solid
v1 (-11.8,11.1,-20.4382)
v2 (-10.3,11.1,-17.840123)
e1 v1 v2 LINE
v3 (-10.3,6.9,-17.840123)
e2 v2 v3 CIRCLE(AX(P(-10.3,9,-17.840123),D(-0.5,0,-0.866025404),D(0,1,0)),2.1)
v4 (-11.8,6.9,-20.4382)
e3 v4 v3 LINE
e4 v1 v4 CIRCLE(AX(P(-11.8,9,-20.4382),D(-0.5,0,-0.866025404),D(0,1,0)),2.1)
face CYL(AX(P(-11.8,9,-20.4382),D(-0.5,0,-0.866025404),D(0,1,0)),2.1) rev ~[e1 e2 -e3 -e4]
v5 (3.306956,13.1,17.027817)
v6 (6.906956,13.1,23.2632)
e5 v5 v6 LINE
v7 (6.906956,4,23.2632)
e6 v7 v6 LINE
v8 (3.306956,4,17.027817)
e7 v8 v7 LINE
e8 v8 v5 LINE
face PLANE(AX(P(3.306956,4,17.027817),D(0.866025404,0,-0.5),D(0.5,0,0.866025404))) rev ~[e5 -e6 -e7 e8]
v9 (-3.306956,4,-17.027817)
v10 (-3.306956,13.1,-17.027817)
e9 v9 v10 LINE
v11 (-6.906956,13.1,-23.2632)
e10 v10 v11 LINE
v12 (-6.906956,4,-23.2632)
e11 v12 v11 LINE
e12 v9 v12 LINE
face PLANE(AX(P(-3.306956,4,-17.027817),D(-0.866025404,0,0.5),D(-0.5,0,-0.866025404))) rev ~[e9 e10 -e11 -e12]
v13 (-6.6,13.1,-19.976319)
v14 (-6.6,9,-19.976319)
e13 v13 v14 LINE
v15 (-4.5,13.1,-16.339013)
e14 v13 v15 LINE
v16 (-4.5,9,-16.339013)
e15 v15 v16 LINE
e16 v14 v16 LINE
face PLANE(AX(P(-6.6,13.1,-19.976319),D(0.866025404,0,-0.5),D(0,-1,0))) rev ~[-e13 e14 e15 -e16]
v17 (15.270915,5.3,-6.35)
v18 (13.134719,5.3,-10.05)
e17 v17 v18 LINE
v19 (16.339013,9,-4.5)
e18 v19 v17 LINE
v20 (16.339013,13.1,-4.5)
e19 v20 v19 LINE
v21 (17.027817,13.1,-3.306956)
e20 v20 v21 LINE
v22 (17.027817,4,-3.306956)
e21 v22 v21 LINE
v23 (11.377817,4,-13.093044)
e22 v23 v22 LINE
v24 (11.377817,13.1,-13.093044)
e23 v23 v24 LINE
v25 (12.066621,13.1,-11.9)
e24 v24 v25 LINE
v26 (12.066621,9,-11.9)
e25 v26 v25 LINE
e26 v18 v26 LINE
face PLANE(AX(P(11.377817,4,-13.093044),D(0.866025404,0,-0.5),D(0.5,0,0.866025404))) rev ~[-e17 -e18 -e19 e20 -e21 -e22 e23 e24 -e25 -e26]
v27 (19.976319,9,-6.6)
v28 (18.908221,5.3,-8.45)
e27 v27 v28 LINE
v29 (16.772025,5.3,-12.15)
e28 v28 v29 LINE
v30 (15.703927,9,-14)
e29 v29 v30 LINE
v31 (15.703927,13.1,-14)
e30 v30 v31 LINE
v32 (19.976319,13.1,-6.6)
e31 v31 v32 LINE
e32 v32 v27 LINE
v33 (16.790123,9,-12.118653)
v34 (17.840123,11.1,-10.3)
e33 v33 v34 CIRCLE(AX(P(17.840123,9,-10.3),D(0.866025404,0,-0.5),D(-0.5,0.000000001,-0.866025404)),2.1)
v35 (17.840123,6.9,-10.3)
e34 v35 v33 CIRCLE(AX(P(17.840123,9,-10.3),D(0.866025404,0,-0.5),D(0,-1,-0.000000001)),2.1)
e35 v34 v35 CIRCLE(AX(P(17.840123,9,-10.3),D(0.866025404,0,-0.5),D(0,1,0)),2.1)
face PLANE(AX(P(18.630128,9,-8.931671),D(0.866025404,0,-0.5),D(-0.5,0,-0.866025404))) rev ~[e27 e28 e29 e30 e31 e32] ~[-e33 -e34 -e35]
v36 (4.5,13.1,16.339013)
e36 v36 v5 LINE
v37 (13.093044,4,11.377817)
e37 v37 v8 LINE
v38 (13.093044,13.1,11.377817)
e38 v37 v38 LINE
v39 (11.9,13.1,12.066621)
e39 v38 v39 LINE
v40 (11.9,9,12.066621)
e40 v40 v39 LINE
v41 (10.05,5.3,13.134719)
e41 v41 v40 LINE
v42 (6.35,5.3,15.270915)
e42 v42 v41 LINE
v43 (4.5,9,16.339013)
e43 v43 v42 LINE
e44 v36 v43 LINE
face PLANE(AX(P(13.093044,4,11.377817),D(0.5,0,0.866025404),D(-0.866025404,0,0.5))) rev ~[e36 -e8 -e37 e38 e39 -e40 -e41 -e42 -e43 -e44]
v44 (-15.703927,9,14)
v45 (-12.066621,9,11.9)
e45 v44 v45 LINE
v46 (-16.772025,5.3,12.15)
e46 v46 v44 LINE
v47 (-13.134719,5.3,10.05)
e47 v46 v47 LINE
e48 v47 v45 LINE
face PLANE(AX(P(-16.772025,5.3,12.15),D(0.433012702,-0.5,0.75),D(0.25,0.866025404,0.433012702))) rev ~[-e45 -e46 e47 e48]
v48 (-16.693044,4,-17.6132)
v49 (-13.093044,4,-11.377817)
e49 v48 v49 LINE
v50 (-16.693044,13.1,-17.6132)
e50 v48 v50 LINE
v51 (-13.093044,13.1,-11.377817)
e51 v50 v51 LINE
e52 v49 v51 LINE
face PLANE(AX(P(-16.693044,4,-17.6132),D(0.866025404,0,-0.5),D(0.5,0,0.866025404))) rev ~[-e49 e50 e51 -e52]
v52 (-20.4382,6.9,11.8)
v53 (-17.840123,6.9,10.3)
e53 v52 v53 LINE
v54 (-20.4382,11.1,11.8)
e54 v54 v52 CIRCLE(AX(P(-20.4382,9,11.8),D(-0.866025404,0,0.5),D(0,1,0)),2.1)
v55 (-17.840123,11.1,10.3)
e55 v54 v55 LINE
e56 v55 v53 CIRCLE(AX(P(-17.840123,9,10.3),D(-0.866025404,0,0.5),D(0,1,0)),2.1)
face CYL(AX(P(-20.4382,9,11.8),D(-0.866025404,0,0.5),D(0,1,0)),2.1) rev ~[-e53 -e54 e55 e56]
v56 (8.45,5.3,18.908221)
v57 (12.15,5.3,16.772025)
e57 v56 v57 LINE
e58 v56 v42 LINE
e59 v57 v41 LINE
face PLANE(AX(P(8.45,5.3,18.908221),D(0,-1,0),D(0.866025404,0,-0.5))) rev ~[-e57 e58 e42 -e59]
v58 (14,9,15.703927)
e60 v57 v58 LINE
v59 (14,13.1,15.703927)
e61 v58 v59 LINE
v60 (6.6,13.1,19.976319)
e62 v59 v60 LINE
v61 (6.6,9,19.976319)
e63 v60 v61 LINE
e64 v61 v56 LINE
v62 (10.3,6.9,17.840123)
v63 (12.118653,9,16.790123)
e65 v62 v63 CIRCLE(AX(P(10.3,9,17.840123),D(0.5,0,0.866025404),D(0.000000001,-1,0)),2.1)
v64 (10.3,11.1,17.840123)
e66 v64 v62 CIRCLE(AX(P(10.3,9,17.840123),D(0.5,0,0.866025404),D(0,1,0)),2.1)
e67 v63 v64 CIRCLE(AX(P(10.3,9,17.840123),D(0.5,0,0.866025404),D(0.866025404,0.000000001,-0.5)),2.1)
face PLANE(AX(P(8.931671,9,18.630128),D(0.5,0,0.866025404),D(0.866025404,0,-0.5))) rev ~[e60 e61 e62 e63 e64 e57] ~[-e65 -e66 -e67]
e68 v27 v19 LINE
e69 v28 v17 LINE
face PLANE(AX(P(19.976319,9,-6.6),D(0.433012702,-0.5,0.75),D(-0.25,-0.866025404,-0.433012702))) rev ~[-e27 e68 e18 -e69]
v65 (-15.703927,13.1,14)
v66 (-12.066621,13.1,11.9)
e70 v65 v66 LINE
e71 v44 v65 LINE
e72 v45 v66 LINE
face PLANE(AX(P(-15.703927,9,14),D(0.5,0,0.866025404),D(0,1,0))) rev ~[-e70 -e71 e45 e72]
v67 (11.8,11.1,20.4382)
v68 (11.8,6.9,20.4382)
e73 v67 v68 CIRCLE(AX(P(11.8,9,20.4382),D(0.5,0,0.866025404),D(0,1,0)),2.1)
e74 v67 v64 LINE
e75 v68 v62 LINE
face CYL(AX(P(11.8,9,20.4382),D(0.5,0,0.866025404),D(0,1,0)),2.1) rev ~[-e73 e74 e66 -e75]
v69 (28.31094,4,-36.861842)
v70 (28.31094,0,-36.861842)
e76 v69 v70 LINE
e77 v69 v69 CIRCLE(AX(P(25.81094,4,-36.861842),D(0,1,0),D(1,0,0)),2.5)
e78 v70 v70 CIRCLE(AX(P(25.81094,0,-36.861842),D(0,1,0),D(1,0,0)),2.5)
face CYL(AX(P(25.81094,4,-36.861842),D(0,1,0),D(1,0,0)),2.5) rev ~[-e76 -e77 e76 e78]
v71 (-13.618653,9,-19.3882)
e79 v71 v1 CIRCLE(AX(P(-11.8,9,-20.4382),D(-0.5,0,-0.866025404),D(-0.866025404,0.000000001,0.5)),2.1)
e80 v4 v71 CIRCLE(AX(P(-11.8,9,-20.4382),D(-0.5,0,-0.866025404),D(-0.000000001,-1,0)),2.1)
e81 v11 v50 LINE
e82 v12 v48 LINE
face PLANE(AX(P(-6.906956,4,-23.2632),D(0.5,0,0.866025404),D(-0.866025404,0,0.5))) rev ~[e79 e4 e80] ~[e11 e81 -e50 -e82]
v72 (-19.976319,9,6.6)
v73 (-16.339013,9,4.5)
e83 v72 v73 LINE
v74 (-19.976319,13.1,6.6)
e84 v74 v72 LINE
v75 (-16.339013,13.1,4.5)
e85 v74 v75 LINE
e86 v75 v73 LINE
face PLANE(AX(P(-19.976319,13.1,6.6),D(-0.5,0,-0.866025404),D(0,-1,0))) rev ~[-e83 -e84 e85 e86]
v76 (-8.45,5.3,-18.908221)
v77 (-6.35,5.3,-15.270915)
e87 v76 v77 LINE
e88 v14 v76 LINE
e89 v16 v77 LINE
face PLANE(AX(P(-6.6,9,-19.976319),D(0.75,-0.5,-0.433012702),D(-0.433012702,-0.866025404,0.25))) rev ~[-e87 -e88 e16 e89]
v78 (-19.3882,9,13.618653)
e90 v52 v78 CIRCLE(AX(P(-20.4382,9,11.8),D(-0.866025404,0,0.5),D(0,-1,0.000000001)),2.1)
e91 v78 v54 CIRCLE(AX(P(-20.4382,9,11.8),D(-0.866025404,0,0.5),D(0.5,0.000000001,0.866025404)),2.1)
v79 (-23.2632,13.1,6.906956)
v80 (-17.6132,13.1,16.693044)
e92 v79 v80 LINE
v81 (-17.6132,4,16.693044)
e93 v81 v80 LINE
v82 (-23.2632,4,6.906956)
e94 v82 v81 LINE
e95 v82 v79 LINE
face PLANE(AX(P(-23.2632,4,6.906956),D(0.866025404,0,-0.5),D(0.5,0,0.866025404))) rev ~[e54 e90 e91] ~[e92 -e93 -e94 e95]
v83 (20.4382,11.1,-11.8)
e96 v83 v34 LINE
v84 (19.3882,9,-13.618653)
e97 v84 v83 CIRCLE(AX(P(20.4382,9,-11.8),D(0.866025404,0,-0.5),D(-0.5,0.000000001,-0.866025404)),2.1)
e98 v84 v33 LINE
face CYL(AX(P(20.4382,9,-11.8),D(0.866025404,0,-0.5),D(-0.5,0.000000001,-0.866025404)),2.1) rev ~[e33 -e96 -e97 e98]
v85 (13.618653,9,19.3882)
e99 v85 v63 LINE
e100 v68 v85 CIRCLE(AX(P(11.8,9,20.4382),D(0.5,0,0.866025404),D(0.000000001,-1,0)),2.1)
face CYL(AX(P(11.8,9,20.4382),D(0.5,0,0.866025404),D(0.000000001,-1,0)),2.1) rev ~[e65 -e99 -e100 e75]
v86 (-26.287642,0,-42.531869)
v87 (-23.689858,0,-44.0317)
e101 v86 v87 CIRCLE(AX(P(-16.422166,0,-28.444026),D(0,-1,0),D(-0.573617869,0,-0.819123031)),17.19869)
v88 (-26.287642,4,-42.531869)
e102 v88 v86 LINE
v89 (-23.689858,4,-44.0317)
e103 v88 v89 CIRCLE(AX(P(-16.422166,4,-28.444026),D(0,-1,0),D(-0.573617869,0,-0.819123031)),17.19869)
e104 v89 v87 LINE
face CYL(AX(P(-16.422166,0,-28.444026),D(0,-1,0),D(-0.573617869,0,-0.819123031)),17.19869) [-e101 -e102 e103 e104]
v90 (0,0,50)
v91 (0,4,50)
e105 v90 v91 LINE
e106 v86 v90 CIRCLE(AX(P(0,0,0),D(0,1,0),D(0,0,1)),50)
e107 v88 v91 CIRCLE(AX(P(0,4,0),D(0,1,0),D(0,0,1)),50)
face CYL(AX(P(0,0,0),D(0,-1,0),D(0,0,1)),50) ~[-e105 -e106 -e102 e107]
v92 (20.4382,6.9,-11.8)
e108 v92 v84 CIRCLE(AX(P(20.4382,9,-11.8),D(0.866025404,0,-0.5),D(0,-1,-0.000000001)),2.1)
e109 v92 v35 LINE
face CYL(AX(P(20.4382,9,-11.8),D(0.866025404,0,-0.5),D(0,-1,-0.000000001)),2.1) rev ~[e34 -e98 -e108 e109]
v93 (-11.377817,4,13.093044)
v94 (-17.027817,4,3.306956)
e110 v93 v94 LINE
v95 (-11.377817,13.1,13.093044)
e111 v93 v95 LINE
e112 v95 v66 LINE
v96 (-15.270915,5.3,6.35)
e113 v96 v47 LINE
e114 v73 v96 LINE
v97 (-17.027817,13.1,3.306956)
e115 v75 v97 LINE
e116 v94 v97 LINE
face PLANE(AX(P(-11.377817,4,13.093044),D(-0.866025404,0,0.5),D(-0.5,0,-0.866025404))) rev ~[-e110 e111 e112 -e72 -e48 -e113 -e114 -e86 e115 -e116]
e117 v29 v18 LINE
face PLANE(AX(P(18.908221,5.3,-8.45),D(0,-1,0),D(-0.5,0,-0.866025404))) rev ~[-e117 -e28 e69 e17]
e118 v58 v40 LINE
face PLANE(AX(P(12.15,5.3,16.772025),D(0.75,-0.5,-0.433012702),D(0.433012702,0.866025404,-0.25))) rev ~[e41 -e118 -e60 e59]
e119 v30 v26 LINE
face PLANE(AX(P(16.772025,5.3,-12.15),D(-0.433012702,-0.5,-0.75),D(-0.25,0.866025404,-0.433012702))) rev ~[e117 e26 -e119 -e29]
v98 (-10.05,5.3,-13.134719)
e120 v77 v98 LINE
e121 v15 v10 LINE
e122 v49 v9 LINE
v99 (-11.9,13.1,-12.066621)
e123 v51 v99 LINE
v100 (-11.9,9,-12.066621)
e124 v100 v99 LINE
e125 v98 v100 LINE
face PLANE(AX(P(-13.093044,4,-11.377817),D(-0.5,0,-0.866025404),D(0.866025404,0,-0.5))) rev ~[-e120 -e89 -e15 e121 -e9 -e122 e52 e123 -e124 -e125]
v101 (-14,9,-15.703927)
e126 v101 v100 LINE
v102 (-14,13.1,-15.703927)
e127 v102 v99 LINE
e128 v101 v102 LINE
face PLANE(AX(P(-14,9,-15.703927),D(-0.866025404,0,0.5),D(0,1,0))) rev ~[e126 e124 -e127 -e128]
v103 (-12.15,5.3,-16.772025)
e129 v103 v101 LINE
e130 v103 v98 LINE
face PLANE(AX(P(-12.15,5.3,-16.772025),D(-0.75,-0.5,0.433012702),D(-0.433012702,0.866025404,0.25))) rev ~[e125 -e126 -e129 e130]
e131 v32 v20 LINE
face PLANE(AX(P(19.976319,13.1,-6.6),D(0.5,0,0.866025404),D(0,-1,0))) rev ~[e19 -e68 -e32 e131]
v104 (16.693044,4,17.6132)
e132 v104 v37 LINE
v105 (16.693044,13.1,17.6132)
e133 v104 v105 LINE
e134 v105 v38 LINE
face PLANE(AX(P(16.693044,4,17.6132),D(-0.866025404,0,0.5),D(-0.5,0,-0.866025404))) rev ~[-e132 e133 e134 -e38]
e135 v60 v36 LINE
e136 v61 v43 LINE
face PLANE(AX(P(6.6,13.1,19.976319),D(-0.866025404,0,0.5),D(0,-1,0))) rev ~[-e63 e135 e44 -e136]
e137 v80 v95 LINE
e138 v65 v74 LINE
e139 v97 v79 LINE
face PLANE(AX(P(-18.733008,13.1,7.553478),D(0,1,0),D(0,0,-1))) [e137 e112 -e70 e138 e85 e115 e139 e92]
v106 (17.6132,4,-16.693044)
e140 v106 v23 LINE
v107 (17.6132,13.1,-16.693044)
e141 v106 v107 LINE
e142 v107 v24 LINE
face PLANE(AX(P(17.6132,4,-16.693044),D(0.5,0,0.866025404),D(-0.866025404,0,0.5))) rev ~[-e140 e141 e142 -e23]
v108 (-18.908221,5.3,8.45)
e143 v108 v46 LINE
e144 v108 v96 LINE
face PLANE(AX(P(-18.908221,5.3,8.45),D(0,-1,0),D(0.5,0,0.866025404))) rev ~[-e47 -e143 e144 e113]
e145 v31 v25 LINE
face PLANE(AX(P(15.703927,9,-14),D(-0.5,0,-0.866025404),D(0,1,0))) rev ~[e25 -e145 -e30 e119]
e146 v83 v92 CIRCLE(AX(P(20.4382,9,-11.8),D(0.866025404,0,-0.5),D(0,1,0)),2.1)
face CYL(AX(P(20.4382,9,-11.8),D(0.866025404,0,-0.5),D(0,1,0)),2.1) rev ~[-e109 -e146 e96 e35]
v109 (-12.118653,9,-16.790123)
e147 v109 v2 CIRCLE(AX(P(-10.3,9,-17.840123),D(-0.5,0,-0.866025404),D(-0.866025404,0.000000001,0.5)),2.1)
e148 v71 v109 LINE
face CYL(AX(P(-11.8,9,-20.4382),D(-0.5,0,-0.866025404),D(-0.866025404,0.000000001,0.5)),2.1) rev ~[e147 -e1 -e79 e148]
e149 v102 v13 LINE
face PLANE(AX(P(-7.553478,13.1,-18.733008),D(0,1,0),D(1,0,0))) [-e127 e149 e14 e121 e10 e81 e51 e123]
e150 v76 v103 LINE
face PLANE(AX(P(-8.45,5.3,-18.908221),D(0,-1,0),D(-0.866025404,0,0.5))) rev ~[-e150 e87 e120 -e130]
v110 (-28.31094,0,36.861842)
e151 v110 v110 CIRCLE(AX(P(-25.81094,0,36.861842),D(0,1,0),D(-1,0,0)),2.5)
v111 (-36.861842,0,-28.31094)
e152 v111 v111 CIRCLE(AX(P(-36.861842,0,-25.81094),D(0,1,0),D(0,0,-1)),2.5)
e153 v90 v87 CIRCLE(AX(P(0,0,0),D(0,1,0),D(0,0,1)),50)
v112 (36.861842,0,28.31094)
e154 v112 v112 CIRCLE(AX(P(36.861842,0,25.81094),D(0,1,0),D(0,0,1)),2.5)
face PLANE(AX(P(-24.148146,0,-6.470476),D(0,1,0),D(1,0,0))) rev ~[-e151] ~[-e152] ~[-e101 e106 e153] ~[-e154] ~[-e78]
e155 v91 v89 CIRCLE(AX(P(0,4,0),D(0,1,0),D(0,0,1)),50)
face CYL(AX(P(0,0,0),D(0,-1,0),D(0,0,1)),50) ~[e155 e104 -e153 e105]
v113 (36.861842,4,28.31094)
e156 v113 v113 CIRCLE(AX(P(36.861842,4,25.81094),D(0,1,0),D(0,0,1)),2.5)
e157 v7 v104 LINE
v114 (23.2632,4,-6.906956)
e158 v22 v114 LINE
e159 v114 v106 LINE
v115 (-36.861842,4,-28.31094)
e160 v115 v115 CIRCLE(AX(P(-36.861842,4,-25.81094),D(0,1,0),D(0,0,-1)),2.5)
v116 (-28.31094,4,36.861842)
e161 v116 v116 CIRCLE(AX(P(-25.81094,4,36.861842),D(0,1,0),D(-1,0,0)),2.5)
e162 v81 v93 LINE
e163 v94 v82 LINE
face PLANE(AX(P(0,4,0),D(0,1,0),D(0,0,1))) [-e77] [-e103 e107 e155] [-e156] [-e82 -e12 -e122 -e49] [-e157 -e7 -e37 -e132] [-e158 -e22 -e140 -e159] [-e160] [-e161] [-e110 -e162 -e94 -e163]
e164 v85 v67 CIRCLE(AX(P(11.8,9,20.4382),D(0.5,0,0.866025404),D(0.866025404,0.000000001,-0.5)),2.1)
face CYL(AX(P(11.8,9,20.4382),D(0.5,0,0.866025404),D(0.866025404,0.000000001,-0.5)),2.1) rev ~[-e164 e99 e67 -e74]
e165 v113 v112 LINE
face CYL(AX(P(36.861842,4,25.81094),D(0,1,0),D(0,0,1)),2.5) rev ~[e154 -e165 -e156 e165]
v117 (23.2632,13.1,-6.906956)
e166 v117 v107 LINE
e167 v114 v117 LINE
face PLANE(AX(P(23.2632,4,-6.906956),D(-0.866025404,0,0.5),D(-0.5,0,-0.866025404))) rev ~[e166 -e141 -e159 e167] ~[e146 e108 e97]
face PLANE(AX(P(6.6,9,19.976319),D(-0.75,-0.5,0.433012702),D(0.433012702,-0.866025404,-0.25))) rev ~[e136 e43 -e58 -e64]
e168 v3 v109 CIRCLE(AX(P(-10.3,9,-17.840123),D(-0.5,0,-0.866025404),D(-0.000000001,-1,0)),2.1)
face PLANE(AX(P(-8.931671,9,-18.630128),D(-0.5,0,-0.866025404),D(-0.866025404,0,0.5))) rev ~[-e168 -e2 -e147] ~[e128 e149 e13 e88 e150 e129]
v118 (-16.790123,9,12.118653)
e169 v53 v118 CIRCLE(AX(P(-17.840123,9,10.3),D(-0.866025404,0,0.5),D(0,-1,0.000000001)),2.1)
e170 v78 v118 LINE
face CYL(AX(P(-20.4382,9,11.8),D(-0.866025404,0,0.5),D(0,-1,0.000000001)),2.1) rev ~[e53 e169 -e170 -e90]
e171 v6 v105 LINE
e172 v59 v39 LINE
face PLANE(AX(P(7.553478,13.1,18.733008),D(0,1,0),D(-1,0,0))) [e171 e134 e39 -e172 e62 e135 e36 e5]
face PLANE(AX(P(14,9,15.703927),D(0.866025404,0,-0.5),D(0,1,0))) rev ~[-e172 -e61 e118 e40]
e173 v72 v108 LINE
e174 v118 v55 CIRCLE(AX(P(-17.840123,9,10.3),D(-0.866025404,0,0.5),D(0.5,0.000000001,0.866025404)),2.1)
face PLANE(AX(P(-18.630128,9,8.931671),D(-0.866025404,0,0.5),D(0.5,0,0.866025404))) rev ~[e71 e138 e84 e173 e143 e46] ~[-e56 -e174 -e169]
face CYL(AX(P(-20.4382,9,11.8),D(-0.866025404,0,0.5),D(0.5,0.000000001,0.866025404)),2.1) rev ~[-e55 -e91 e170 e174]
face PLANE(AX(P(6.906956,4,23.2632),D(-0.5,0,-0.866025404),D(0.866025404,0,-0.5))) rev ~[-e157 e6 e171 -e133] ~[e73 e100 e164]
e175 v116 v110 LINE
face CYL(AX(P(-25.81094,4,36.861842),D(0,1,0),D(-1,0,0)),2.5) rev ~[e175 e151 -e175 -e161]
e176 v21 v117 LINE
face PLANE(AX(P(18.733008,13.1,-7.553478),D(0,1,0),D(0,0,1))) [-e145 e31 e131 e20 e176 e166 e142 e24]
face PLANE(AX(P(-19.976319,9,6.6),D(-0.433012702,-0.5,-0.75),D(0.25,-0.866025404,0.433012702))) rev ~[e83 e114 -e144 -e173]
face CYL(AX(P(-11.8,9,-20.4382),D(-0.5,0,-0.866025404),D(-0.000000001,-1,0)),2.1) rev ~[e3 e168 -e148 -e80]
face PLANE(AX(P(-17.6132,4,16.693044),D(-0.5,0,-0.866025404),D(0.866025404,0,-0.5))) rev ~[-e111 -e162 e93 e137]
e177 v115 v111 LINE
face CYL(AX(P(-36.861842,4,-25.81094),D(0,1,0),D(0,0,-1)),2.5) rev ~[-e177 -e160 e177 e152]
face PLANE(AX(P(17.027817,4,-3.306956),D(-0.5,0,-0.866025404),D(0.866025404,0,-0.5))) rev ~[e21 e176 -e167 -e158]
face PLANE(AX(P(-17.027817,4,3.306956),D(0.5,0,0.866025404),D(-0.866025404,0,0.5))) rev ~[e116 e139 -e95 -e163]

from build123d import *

# Parameters (mm, degrees)
SKETCH1_R           = 50
SKETCH1_R_2         = 1.475
SKETCH1_R_3         = 2.6
BOSS_EXTRUDE1_DEPTH = 4
SKETCH2_R           = 1.5
CUT_EXTRUDE1_DEPTH  = 10
BOSS_EXTRUDE3_DEPTH = 9.1
CIRPATTERN1_COUNT   = 4
CUT_EXTRUDE2_START  = -3
CUT_EXTRUDE2_DEPTH  = 5
CUT_EXTRUDE3_DEPTH  = 15
CIRPATTERN2_COUNT   = 4
CIRPATTERN3_COUNT   = 4
BOSS_EXTRUDE4_START = -4
SKETCH11_R          = 2.6
SKETCH11_R_2        = 1.475
SKETCH11_R_3        = 2.656466029
BOSS_EXTRUDE4_DEPTH = 4
SKETCH12_R          = 2.5
CUT_EXTRUDE4_DEPTH  = 10
CIRPATTERN4_COUNT   = 4


with BuildPart() as part:
    # Sketch1 → Boss-Extrude1 (new body)
    with BuildSketch(Plane(origin=(0, 0, 0), x_dir=(1, 0, 0), z_dir=(0, 1, 0))):
        with Locations(Location((0, 0, 0), (0, 0, 270))):
            Circle(SKETCH1_R)
        with Locations(Location((0, 13, 0), (0, 0, 270))):
            Circle(SKETCH1_R_2, mode=Mode.SUBTRACT)
        with Locations(Location((11.258330249, 6.5, 0), (0, 0, 270))):
            Circle(SKETCH1_R_2, mode=Mode.SUBTRACT)
        with Locations(Location((11.258330249, -6.5, 0), (0, 0, 270))):
            Circle(SKETCH1_R_2, mode=Mode.SUBTRACT)
        with Locations(Location((0, -13, 0), (0, 0, 270))):
            Circle(SKETCH1_R_2, mode=Mode.SUBTRACT)
        with Locations(Location((-11.258330249, -6.5, 0), (0, 0, 270))):
            Circle(SKETCH1_R_2, mode=Mode.SUBTRACT)
        with Locations(Location((-11.258330249, 6.5, 0), (0, 0, 270))):
            Circle(SKETCH1_R_2, mode=Mode.SUBTRACT)
        with Locations(Location((-24.148145657, 6.470476128, 0), (0, 0, 270))):
            Circle(SKETCH1_R_3, mode=Mode.SUBTRACT)
        with Locations(Location((6.470476128, 24.148145657, 0), (0, 0, 270))):
            Circle(SKETCH1_R_3, mode=Mode.SUBTRACT)
        with Locations(Location((24.148145657, -6.470476128, 0), (0, 0, 270))):
            Circle(SKETCH1_R_3, mode=Mode.SUBTRACT)
        with Locations(Location((-6.470476128, -24.148145657, 0), (0, 0, 270))):
            Circle(SKETCH1_R_3, mode=Mode.SUBTRACT)
    extrude(amount=BOSS_EXTRUDE1_DEPTH)

    # Sketch2 → Cut-Extrude1 (cut)
    with BuildSketch(Plane(origin=(0, 4, 0), x_dir=(1, 0, 0), z_dir=(0, 1, 0))):
        with Locations((-25, 43.301270189)):
            Circle(SKETCH2_R)
    extrude(amount=-CUT_EXTRUDE1_DEPTH, mode=Mode.SUBTRACT)

    # Sketch8 → Boss-Extrude3 (add)
    with BuildSketch(Plane(origin=(0, 4, 0), x_dir=(1, 0, 0), z_dir=(0, 1, 0))):
        Polygon((-6.906956469, 23.263199529), (-11.8, 20.438199529), (-8.2, 14.202816622), (-3.306956469, 17.027816622), align=None)
        Polygon((-8.2, 14.202816622), (-11.8, 20.438199529), (-16.693043531, 17.613199529), (-13.093043531, 11.377816622), align=None)
    boss_extrude3 = extrude(amount=BOSS_EXTRUDE3_DEPTH)

    # CirPattern1: Boss-Extrude3 ×4 about axis
    cirpattern1_axis = Axis((0, 0, 0), (0, 1, 0))
    for i in range(1, CIRPATTERN1_COUNT):
        add(boss_extrude3.rotate(cirpattern1_axis, i * 360 / CIRPATTERN1_COUNT))

    # Sketch9 → Cut-Extrude2 (cut)
    with BuildSketch(Plane(origin=(-11.8, 0, -20.438199529), x_dir=(-0.8660254037844384, 0, 0.5000000000000006), z_dir=(-0.5000000000000006, 0, -0.8660254037844384)).offset(CUT_EXTRUDE2_START)):
        Polygon((0, 5.3), (0, 12.7), (-2.136195996, 12.7), (-4.272391992, 9), (-2.136195996, 5.3), align=None)
        Polygon((2.136195996, 12.7), (0, 12.7), (0, 5.3), (2.136195996, 5.3), (4.272391992, 9), align=None)
        Polygon((0, 12.7), (0, 13.1), (-4.272391992, 13.1), (-4.272391992, 9), (-2.136195996, 12.7), align=None)
        Polygon((4.272391992, 13.1), (0, 13.1), (0, 12.7), (2.136195996, 12.7), (4.272391992, 9), align=None)
    cut_extrude2 = extrude(amount=-CUT_EXTRUDE2_DEPTH, mode=Mode.SUBTRACT)

    # Sketch10 → Cut-Extrude3 (cut)
    with BuildSketch(Plane(origin=(-11.8, 0, -20.438199529), x_dir=(-0.8660254037844384, 0, 0.5000000000000006), z_dir=(-0.5000000000000006, 0, -0.8660254037844384))):
        with BuildLine():
            ThreePointArc((2.1, 9), (1.48492424, 10.48492424), (0, 11.1))
            Line((0, 11.1), (0, 6.9))
            ThreePointArc((0, 6.9), (1.48492424, 7.51507576), (2.1, 9))
        make_face()
        with BuildLine():
            Line((0, 6.9), (0, 11.1))
            ThreePointArc((0, 11.1), (-2.1, 9), (0, 6.9))
        make_face()
    cut_extrude3 = extrude(amount=-CUT_EXTRUDE3_DEPTH, mode=Mode.SUBTRACT)

    # CirPattern2: Cut-Extrude2 ×4 about axis
    cirpattern2_axis = Axis((0, 0, 0), (0, 1, 0))
    for i in range(1, CIRPATTERN2_COUNT):
        add(cut_extrude2.rotate(cirpattern2_axis, i * 360 / CIRPATTERN2_COUNT), mode=Mode.SUBTRACT)

    # CirPattern3: Cut-Extrude3 ×4 about axis
    cirpattern3_axis = Axis((0, 4, 0), (0, 1, 0))
    for i in range(1, CIRPATTERN3_COUNT):
        add(cut_extrude3.rotate(cirpattern3_axis, i * 360 / CIRPATTERN3_COUNT), mode=Mode.SUBTRACT)

    # Sketch11 → Boss-Extrude4 (add)
    with BuildSketch(Plane(origin=(0, 4, 0), x_dir=(1, 0, 0), z_dir=(0, 1, 0)).offset(BOSS_EXTRUDE4_START)):
        with Locations((-24.148145657, 6.470476128)):
            Circle(SKETCH11_R)
        with Locations((-6.470476128, -24.148145657)):
            Circle(SKETCH11_R)
        with Locations((0, -13)):
            Circle(SKETCH11_R_2)
        with Locations((-11.258330249, -6.5)):
            Circle(SKETCH11_R_2)
        with Locations((24.148145657, -6.470476128)):
            Circle(SKETCH11_R_3)
        with Locations((6.470476128, 24.148145657)):
            Circle(SKETCH11_R)
        with Locations((0, 13)):
            Circle(SKETCH11_R_2)
        with Locations((11.258330249, 6.5)):
            Circle(SKETCH11_R_2)
        with Locations((11.258330249, -6.5)):
            Circle(SKETCH11_R_2)
        with Locations((-11.258330249, 6.5)):
            Circle(SKETCH11_R_2)
        with BuildLine():
            ThreePointArc((-26.287641956, 42.531868997), (-25.021511025, 43.338528377), (-23.689858044, 44.031700238))
            ThreePointArc((-23.689858044, 44.031700238), (-24.25, 42.002232084), (-26.287641956, 42.531868997))
        make_face()
    extrude(amount=BOSS_EXTRUDE4_DEPTH)

    # Sketch12 → Cut-Extrude4 (cut)
    with BuildSketch(Plane(origin=(0, 4, 0), x_dir=(1, 0, 0), z_dir=(0, 1, 0))):
        with Locations(Location((36.861841993, -25.810939636, 0), (0, 0, 270))):
            Circle(SKETCH12_R)
    cut_extrude4 = extrude(amount=-CUT_EXTRUDE4_DEPTH, mode=Mode.SUBTRACT)

    # CirPattern4: Cut-Extrude4 ×4 about axis
    cirpattern4_axis = Axis((0, 0, 0), (0, 1, 0))
    for i in range(1, CIRPATTERN4_COUNT):
        add(cut_extrude4.rotate(cirpattern4_axis, i * 360 / CIRPATTERN4_COUNT), mode=Mode.SUBTRACT)


solid = part.part
